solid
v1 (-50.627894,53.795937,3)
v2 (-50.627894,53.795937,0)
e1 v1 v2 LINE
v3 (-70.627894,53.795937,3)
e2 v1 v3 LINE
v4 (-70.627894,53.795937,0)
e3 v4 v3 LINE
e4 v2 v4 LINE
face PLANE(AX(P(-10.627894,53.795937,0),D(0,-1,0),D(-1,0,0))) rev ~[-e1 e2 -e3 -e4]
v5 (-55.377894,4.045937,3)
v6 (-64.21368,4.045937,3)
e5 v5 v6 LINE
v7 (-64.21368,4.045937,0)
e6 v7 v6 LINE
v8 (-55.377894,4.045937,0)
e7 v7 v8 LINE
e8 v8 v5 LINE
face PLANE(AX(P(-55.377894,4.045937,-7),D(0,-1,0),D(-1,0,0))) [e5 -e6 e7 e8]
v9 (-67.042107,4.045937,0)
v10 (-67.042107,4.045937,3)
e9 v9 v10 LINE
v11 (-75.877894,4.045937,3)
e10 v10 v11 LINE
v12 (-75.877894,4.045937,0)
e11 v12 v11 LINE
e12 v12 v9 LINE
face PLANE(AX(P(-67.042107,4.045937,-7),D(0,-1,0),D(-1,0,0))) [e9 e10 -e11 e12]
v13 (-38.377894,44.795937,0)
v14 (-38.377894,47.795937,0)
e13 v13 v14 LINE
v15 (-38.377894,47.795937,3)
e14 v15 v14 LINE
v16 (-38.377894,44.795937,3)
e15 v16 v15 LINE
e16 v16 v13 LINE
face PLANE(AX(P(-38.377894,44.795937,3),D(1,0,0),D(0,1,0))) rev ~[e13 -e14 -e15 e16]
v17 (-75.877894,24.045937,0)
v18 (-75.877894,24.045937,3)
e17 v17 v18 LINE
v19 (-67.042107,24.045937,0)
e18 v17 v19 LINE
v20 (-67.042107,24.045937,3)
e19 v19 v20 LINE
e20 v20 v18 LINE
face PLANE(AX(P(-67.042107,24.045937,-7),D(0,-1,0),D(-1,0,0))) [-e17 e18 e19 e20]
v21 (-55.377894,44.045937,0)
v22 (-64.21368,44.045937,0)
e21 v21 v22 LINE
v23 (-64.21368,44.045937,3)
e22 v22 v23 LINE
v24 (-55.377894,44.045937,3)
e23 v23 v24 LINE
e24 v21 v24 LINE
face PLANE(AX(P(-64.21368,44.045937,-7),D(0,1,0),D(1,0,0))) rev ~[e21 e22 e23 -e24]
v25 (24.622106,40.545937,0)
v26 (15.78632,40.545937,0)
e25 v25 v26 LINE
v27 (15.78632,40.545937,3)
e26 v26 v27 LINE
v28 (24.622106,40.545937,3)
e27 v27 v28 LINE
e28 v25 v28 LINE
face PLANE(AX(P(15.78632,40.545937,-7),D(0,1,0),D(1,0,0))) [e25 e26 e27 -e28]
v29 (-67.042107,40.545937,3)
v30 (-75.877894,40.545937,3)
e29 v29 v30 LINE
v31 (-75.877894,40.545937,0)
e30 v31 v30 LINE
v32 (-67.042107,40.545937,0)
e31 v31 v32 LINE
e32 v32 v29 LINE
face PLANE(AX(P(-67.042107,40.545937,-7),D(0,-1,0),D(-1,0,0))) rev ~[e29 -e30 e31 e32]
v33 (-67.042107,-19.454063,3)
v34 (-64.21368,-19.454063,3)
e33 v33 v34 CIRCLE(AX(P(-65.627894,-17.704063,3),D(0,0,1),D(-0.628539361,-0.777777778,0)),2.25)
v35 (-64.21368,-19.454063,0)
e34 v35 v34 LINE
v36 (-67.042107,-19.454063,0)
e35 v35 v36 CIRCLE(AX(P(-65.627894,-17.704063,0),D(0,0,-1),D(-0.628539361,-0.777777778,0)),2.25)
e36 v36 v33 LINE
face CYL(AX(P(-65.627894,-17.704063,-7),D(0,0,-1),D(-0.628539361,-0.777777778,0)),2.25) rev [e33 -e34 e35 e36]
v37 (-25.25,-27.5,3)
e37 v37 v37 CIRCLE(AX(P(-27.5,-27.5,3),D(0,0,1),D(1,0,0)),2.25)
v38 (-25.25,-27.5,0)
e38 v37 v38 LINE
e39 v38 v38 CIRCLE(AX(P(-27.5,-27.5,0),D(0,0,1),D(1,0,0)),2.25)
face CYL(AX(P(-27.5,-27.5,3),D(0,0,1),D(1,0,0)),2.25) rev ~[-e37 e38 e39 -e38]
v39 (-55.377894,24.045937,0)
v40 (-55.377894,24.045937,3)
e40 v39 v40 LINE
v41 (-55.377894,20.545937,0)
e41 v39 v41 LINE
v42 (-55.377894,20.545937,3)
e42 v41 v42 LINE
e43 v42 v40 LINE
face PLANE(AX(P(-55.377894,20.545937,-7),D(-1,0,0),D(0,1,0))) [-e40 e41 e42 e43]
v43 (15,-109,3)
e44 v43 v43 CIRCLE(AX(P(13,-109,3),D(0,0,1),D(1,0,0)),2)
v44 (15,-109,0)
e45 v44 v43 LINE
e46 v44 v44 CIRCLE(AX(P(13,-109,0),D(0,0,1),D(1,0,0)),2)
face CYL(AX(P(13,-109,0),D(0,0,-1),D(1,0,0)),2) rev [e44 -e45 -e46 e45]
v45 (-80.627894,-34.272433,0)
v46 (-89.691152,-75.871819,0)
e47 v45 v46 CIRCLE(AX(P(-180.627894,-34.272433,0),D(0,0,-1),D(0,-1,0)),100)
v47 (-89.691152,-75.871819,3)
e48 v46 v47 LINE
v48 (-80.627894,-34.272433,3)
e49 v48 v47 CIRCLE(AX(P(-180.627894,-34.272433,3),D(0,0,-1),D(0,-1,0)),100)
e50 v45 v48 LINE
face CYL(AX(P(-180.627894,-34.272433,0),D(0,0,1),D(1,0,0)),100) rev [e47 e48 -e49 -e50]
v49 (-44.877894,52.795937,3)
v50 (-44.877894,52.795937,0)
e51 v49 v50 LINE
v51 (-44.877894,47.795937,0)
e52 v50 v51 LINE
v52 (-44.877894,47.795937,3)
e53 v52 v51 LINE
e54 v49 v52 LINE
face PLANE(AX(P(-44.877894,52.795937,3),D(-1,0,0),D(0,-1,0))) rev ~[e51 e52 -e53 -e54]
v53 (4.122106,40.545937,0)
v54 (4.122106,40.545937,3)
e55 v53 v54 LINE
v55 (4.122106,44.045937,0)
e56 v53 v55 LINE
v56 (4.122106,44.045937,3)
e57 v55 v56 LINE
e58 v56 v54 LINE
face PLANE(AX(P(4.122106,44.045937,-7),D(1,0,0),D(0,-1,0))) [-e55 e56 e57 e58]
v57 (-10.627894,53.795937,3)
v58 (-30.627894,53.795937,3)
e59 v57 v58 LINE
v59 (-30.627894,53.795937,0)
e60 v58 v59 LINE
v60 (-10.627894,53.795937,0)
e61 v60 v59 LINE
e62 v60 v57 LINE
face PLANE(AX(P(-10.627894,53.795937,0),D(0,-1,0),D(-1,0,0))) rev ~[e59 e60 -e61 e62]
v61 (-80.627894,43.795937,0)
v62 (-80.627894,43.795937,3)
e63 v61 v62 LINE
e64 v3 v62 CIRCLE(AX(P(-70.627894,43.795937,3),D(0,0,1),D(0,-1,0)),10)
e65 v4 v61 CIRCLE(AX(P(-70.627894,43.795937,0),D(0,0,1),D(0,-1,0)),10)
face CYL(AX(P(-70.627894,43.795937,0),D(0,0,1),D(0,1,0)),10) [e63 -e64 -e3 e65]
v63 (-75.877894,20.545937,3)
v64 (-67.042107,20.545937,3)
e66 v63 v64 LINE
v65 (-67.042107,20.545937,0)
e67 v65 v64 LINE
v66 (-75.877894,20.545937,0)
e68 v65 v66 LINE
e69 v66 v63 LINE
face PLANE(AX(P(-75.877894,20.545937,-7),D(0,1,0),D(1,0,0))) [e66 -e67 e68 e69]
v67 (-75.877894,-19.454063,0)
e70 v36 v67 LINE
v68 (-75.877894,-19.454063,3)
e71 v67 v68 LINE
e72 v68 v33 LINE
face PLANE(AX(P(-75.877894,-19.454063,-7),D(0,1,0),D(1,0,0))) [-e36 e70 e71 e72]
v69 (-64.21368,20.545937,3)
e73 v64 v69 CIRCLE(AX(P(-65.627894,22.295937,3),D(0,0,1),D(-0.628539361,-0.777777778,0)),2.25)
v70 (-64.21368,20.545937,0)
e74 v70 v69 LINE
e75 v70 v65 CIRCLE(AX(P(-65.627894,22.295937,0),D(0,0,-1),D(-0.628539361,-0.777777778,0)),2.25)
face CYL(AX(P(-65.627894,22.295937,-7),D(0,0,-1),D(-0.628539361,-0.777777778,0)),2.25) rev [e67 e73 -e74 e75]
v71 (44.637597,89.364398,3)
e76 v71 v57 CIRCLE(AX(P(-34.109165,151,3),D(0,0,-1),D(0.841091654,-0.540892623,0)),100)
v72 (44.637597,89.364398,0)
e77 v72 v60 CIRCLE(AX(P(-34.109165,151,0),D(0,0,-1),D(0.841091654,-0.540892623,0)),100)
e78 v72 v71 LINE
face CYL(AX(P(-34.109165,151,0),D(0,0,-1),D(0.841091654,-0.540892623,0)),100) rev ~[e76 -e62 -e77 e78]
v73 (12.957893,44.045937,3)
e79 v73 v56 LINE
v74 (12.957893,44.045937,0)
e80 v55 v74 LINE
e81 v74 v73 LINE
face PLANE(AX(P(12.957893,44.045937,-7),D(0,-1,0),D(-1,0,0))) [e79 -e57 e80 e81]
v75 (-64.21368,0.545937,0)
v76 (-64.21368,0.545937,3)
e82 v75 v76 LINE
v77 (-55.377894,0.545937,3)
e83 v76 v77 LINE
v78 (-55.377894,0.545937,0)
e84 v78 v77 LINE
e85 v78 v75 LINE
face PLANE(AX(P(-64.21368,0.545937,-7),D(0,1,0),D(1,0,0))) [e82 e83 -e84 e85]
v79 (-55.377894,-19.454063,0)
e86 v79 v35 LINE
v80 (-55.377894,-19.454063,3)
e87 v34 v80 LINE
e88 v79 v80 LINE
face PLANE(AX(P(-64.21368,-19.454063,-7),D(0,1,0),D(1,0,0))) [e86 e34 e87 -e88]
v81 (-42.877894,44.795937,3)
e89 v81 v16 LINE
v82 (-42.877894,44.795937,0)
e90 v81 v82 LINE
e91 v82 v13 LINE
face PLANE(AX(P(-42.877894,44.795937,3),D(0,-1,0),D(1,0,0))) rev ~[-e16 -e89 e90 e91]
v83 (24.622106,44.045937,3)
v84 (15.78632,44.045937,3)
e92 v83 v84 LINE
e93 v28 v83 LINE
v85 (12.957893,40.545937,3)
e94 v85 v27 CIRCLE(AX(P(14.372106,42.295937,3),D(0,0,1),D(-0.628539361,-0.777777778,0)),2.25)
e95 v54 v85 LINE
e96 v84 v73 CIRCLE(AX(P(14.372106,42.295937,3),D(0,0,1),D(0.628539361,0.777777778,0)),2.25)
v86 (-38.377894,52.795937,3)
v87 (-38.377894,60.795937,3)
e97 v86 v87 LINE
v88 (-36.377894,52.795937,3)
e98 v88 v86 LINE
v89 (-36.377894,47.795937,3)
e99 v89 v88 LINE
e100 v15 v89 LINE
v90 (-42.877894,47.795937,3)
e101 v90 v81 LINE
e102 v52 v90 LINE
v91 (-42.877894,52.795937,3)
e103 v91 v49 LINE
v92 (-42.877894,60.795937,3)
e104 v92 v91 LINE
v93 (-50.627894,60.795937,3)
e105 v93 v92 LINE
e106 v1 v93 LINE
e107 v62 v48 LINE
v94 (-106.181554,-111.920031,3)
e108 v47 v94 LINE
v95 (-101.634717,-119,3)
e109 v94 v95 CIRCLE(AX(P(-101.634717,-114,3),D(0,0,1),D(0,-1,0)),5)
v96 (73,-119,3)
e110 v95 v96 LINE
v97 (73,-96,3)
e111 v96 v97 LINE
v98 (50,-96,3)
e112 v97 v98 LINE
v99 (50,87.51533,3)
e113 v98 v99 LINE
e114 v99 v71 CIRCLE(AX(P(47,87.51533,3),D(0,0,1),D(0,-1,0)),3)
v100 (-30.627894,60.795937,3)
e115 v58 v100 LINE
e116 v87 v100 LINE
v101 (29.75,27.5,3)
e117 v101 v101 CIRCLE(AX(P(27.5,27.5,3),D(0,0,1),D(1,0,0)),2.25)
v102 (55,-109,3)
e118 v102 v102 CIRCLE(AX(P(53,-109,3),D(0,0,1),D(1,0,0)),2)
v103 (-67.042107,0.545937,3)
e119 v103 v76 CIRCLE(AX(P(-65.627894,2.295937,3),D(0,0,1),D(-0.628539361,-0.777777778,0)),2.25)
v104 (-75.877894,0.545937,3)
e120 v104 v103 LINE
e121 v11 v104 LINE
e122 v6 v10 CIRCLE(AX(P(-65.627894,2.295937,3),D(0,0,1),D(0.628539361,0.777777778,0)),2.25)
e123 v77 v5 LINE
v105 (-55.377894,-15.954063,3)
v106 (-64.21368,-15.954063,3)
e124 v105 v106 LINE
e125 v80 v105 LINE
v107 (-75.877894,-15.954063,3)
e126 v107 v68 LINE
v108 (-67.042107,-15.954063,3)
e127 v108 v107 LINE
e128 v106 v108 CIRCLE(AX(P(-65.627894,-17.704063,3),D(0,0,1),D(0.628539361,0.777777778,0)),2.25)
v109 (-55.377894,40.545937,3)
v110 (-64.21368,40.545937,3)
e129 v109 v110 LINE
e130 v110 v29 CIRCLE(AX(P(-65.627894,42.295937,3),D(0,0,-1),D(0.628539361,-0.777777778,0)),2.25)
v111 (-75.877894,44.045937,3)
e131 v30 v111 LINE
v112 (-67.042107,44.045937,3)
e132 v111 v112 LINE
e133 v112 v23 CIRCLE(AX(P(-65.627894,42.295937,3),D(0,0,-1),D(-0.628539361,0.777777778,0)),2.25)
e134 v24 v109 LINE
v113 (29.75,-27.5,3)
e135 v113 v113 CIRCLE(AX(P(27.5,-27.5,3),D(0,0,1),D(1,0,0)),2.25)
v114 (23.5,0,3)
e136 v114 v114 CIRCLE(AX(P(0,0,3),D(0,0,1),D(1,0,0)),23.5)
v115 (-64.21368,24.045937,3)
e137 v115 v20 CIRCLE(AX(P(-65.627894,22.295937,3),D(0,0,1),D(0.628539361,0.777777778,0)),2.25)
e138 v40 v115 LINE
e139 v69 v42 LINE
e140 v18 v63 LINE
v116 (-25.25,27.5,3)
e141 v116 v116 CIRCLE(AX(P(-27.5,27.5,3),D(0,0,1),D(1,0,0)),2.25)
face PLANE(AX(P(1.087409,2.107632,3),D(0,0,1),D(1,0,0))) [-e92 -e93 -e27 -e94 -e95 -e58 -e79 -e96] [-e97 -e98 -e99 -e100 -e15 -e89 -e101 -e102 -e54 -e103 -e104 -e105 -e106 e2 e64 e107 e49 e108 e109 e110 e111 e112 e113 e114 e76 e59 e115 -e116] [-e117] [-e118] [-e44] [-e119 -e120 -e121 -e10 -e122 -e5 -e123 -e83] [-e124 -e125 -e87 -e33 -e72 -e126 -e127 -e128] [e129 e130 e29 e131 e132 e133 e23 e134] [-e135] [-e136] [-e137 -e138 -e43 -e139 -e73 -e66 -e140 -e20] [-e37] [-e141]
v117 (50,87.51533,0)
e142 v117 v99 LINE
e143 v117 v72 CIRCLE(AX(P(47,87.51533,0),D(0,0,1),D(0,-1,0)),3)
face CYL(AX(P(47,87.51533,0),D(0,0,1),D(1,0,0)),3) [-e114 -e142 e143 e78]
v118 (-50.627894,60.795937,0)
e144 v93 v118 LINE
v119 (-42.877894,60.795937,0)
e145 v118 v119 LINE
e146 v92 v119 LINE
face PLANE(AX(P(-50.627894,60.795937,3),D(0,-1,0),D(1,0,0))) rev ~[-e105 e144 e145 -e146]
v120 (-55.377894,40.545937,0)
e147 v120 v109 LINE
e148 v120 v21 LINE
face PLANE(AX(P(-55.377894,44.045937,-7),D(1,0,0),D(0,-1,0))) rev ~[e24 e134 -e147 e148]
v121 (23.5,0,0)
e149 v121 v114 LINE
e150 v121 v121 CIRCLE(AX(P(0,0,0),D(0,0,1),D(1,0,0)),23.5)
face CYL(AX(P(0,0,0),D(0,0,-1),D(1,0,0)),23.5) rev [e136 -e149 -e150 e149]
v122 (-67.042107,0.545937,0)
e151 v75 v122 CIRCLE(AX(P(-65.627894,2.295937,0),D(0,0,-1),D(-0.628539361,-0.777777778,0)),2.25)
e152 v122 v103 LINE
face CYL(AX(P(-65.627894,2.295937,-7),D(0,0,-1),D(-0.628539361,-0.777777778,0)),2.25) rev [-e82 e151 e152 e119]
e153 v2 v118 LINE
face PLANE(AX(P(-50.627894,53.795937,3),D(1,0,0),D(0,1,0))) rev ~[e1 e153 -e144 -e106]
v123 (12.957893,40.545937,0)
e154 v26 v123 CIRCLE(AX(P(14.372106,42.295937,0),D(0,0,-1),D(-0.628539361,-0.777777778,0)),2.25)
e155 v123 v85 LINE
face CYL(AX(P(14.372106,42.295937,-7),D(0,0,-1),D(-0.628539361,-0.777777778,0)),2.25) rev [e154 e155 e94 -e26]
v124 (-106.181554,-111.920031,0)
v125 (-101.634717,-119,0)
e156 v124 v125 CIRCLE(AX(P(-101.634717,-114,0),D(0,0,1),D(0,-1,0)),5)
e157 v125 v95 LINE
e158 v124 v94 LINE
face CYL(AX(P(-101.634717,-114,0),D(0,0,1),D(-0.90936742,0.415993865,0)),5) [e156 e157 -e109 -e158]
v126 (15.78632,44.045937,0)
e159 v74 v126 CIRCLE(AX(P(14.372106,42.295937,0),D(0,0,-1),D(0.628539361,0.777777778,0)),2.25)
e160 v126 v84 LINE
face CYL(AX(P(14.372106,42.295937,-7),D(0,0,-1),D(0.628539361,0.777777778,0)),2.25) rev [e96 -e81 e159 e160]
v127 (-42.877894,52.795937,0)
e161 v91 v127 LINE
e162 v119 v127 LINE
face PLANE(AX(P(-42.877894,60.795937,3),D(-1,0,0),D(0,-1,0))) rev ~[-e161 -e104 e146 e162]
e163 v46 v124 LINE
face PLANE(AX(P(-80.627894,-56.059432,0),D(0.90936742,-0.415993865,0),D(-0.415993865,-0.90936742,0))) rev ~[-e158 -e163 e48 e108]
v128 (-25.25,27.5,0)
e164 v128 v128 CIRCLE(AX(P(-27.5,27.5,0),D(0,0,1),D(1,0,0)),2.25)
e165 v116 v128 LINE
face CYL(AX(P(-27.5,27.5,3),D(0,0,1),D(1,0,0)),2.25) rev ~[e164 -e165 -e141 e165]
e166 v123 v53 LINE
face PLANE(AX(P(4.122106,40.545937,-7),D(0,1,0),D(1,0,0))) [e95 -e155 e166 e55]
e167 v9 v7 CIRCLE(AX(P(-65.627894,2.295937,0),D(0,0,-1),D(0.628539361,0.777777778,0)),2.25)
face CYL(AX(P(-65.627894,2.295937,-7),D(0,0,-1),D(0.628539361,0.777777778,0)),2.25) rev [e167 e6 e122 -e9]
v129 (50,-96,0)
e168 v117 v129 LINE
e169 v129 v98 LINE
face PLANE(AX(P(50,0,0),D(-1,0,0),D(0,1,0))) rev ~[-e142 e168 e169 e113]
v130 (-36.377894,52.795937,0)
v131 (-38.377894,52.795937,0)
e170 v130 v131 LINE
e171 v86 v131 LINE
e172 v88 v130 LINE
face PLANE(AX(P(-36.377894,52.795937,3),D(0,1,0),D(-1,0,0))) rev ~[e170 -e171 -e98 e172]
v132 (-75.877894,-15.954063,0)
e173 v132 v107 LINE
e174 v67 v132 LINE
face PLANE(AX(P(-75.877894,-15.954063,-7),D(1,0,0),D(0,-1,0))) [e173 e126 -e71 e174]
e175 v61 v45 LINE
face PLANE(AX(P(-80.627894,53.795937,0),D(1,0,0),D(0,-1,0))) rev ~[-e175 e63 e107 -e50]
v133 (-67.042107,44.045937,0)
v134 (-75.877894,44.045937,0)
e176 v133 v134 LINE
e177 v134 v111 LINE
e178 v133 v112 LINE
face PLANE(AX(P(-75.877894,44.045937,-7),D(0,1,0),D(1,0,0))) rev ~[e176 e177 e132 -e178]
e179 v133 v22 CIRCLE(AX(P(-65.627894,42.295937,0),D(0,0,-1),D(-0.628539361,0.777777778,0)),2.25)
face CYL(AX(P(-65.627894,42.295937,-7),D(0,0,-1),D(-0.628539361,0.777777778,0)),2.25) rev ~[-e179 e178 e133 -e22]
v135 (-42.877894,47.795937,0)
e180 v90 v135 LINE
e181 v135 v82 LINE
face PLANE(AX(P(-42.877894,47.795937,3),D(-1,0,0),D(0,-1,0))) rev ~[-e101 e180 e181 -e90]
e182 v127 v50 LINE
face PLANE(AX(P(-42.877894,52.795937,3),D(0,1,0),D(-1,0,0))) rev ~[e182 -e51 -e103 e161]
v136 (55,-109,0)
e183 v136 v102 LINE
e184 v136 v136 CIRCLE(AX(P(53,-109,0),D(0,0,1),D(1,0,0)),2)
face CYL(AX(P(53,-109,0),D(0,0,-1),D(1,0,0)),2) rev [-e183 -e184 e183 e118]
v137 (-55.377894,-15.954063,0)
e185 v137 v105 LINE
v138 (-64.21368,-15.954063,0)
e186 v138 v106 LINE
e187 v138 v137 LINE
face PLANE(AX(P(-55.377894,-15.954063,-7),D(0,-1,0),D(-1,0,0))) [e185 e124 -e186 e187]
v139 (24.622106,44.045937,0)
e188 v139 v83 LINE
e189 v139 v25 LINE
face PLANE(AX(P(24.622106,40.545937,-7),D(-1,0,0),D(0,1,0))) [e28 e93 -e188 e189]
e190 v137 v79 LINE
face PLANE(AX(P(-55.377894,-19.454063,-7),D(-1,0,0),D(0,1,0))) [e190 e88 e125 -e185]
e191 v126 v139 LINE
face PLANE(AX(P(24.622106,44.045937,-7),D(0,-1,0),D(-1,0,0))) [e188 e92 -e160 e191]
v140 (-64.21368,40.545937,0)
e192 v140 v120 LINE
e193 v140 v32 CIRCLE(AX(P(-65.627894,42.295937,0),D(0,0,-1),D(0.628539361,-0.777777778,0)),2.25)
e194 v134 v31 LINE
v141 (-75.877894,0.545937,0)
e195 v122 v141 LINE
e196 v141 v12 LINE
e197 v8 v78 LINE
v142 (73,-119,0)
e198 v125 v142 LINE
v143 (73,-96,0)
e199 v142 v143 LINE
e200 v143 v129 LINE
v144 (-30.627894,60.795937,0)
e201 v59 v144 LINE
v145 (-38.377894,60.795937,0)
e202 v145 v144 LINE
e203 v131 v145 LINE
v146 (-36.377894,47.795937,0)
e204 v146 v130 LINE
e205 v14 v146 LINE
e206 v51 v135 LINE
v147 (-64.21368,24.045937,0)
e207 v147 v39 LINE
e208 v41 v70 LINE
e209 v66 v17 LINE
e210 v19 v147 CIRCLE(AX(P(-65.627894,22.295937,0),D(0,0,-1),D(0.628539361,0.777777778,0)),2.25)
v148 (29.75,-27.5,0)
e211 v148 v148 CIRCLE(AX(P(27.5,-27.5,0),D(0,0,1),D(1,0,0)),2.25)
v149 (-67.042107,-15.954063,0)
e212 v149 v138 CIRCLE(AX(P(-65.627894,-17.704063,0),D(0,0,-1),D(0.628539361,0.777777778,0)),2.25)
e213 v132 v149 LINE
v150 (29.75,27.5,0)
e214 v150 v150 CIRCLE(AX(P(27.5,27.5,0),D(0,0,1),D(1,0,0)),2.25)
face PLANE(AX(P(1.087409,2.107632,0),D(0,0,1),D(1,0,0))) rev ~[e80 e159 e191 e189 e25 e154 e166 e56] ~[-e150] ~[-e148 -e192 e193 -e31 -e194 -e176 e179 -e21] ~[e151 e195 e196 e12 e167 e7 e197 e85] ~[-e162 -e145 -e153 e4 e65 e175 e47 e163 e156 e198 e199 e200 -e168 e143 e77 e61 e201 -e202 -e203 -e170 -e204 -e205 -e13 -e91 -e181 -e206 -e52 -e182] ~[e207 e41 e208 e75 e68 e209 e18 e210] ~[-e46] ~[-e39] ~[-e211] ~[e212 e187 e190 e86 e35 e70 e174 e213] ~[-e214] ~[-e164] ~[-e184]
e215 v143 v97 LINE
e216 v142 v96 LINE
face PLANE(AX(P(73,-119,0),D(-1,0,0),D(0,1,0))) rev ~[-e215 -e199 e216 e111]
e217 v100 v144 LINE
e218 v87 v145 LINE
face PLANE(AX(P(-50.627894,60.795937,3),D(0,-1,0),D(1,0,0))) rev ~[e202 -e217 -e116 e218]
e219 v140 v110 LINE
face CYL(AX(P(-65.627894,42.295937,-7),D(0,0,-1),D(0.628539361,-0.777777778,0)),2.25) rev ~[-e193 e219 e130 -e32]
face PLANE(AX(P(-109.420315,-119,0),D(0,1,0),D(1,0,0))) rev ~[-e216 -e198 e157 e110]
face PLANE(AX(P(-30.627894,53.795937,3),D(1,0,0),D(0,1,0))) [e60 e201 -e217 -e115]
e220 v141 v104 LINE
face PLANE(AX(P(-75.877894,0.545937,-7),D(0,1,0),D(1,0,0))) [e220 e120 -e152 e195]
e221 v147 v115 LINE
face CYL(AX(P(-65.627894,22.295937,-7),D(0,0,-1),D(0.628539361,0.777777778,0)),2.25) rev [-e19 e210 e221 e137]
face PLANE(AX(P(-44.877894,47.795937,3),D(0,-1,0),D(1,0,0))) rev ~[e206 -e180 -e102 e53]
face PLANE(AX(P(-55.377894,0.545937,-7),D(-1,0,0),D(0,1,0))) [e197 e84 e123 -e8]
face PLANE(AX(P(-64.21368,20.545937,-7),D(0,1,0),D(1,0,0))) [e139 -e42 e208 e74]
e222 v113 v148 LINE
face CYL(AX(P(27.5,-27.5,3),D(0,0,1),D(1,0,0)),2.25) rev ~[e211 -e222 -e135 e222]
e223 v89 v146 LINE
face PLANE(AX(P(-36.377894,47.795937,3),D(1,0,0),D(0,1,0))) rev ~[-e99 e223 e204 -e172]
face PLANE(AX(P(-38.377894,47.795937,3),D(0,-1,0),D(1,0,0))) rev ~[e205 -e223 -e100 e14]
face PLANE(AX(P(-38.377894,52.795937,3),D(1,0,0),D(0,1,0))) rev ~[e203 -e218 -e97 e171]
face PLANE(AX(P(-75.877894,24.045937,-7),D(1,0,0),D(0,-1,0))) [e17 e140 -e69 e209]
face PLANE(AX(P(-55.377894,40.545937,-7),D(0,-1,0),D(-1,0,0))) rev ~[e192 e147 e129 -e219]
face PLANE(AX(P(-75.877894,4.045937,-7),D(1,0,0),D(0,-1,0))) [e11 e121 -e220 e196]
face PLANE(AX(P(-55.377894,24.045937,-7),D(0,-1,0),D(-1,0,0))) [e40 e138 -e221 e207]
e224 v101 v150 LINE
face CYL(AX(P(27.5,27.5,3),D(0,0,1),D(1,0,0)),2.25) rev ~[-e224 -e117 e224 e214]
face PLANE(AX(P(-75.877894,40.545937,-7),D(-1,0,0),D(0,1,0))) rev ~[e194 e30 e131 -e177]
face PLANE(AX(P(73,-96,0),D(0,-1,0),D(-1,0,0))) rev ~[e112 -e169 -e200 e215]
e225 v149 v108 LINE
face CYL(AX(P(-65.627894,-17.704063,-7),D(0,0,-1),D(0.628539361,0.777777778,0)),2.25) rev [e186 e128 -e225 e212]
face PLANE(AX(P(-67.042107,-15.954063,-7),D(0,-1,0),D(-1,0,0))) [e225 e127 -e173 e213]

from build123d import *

# Parameters (mm, degrees)
SKETCH_1_R          = 2
SKETCH_1_R_2        = 23.5
EXTRUDE_1_DEPTH     = 3
SKETCH_2_R          = 2.25
CUT_EXTRUDE_1_DEPTH = 162.687369417
FILLET_1_R          = 10
FILLET_2_R          = 100
FILLET_3_R          = 5
SKETCH_3_W          = 20
SKETCH_3_H          = 7
EXTRUDE_2_DEPTH     = 3
CUT_EXTRUDE_2_DEPTH = 10
FILLET_4_R          = 3
CUT_EXTRUDE_3_DEPTH = 3
CUT_EXTRUDE_START   = -10
CUT_EXTRUDE_4_DEPTH = 10


with BuildPart() as part:
    # 草图1 → 凸台-拉伸1 (new body)
    # profile 1 of 3: a face of its own
    with BuildSketch(Plane.XY):
        with BuildLine():
            Line((-80.627893842, 53.795936885), (-80.627893842, -56.059432026))
            Line((-80.627893842, -56.059432026), (-109.420315431, -119))
            Line((-109.420315431, -119), (50, -119))
            Line((50, -119), (73, -119))
            Line((73, -119), (73, -96))
            Line((73, -96), (50, -96))
            Line((50, -96), (50, 0))
            ThreePointArc((50, 0), (-22.925467429, -44.434479216), (-28.976917727, 40.747248239))
            Line((-28.976917727, 40.747248239), (-10.627893842, 53.795936885))
            Line((-10.627893842, 53.795936885), (-80.627893842, 53.795936885))
        make_face()
        with BuildLine():
            Line((-66.950769498, -19.204063115), (-75.627893842, -19.204063115))
            Line((-75.627893842, -19.204063115), (-75.627893842, -16.204063115))
            Line((-75.627893842, -16.204063115), (-66.950769498, -16.204063115))
            ThreePointArc((-66.950769498, -16.204063115), (-65.627893842, -15.704063115), (-64.305018187, -16.204063115))
            Line((-64.305018187, -16.204063115), (-55.627893842, -16.204063115))
            Line((-55.627893842, -16.204063115), (-55.627893842, -19.204063115))
            Line((-55.627893842, -19.204063115), (-64.305018187, -19.204063115))
            ThreePointArc((-64.305018187, -19.204063115), (-65.627893842, -19.704063115), (-66.950769498, -19.204063115))
        make_face(mode=Mode.SUBTRACT)
        with Locations((13, -109)):
            Circle(SKETCH_1_R, mode=Mode.SUBTRACT)
        with Locations((53, -109.000000002)):
            Circle(SKETCH_1_R, mode=Mode.SUBTRACT)
        with BuildLine():
            Line((-66.950769498, 0.795936885), (-75.627893842, 0.795936885))
            Line((-75.627893842, 0.795936885), (-75.627893842, 3.795936885))
            Line((-75.627893842, 3.795936885), (-66.950769498, 3.795936885))
            ThreePointArc((-66.950769498, 3.795936885), (-65.627893842, 4.295936885), (-64.305018187, 3.795936885))
            Line((-64.305018187, 3.795936885), (-55.627893842, 3.795936885))
            Line((-55.627893842, 3.795936885), (-55.627893842, 0.795936885))
            Line((-55.627893842, 0.795936885), (-64.305018187, 0.795936885))
            ThreePointArc((-64.305018187, 0.795936885), (-65.627893842, 0.295936885), (-66.950769498, 0.795936885))
        make_face(mode=Mode.SUBTRACT)
        with BuildLine():
            Line((-66.950769498, 20.795936885), (-75.627893842, 20.795936885))
            Line((-75.627893842, 20.795936885), (-75.627893842, 23.795936885))
            Line((-75.627893842, 23.795936885), (-66.950769498, 23.795936885))
            ThreePointArc((-66.950769498, 23.795936885), (-65.627893842, 24.295936885), (-64.305018187, 23.795936885))
            Line((-64.305018187, 23.795936885), (-55.627893842, 23.795936885))
            Line((-55.627893842, 23.795936885), (-55.627893842, 20.795936885))
            Line((-55.627893842, 20.795936885), (-64.305018187, 20.795936885))
            ThreePointArc((-64.305018187, 20.795936885), (-65.627893842, 20.295936885), (-66.950769498, 20.795936885))
        make_face(mode=Mode.SUBTRACT)
        with BuildLine():
            Line((-55.627893842, 40.795936885), (-64.305018187, 40.795936885))
            ThreePointArc((-64.305018187, 40.795936885), (-65.627893842, 40.295936885), (-66.950769498, 40.795936885))
            Line((-66.950769498, 40.795936885), (-75.627893842, 40.795936885))
            Line((-75.627893842, 40.795936885), (-75.627893842, 43.795936885))
            Line((-75.627893842, 43.795936885), (-66.950769498, 43.795936885))
            ThreePointArc((-66.950769498, 43.795936885), (-65.627893842, 44.295936885), (-64.305018187, 43.795936885))
            Line((-64.305018187, 43.795936885), (-55.627893842, 43.795936885))
            Line((-55.627893842, 43.795936885), (-55.627893842, 40.795936885))
        make_face(mode=Mode.SUBTRACT)
    # profile 2 of 3: a face of its own
    with BuildSketch(Plane.XY):
        with BuildLine():
            ThreePointArc((50, 96.910737705), (23.844670052, 69.505503521), (-10.627893842, 53.795936885))
            Line((-10.627893842, 53.795936885), (-28.976917727, 40.747248239))
            ThreePointArc((-28.976917727, 40.747248239), (22.925467429, 44.434479216), (50, 0))
            Line((50, 0), (50, 96.910737705))
        make_face()
    # profile 3 of 3: a face of its own
    with BuildSketch(Plane.XY):
        with BuildLine():
            ThreePointArc((50, 0), (22.925467429, 44.434479216), (-28.976917727, 40.747248239))
            ThreePointArc((-28.976917727, 40.747248239), (-22.925467429, -44.434479216), (50, 0))
        make_face()
        Circle(SKETCH_1_R_2, mode=Mode.SUBTRACT)
    extrude(amount=EXTRUDE_1_DEPTH)

    # 草图2 → 切除-拉伸1 (cut, through all)
    with BuildSketch(Plane.XY.offset(3)):
        with Locations((-27.5, 27.5)):
            Circle(SKETCH_2_R)
        with Locations((27.5, 27.5)):
            Circle(SKETCH_2_R)
        with Locations((27.5, -27.5)):
            Circle(SKETCH_2_R)
        with Locations((-27.5, -27.5)):
            Circle(SKETCH_2_R)
    extrude(amount=-CUT_EXTRUDE_1_DEPTH, mode=Mode.SUBTRACT)

    # 圆角1
    fillet_1_edges = [part.edges().sort_by_distance(p)[0] for p in [
        (-80.627893842, 53.795936885, 1.5),
    ]]
    fillet(fillet_1_edges, radius=FILLET_1_R)

    # 圆角2
    fillet_2_edges = [part.edges().sort_by_distance(p)[0] for p in [
        (-80.627893842, -56.059432026, 1.5),
    ]]
    fillet(fillet_2_edges, radius=FILLET_2_R)

    # 圆角3
    fillet_3_edges = [part.edges().sort_by_distance(p)[0] for p in [
        (-109.420315431, -119, 1.5),
    ]]
    fillet(fillet_3_edges, radius=FILLET_3_R)

    # 草图3 → 凸台-拉伸2 (add)
    with BuildSketch(Plane.XY.offset(3)):
        with Locations((-40.627893842, 57.295936885)):
            Rectangle(SKETCH_3_W, SKETCH_3_H)
    extrude(amount=-EXTRUDE_2_DEPTH)

    # 草图4 → 切除-拉伸2 (cut)
    with BuildSketch(Plane.XY.offset(3)):
        with BuildLine():
            Line((15.694981813, 43.795936885), (13.049230502, 43.795936885))
            ThreePointArc((13.049230502, 43.795936885), (12.372106158, 42.295936885), (13.049230502, 40.795936885))
            Line((13.049230502, 40.795936885), (15.694981813, 40.795936885))
            ThreePointArc((15.694981813, 40.795936885), (16.194981813, 41.47306123), (16.372106158, 42.295936885))
            ThreePointArc((16.372106158, 42.295936885), (16.194981813, 43.118812541), (15.694981813, 43.795936885))
        make_face()
        with BuildLine():
            ThreePointArc((15.694981813, 43.795936885), (14.372106158, 44.295936885), (13.049230502, 43.795936885))
            Line((13.049230502, 43.795936885), (15.694981813, 43.795936885))
        make_face()
        with BuildLine():
            Line((15.694981813, 40.795936885), (13.049230502, 40.795936885))
            ThreePointArc((13.049230502, 40.795936885), (14.372106158, 40.295936885), (15.694981813, 40.795936885))
        make_face()
        with BuildLine():
            Line((24.372106158, 43.795936885), (15.694981813, 43.795936885))
            ThreePointArc((15.694981813, 43.795936885), (16.194981813, 43.118812541), (16.372106158, 42.295936885))
            ThreePointArc((16.372106158, 42.295936885), (16.194981813, 41.47306123), (15.694981813, 40.795936885))
            Line((15.694981813, 40.795936885), (24.372106158, 40.795936885))
            Line((24.372106158, 40.795936885), (24.372106158, 43.795936885))
        make_face()
        with BuildLine():
            Line((13.049230502, 43.795936885), (4.372106158, 43.795936885))
            Line((4.372106158, 43.795936885), (4.372106158, 40.795936885))
            Line((4.372106158, 40.795936885), (13.049230502, 40.795936885))
            ThreePointArc((13.049230502, 40.795936885), (12.372106158, 42.295936885), (13.049230502, 43.795936885))
        make_face()
    extrude(amount=-CUT_EXTRUDE_2_DEPTH, mode=Mode.SUBTRACT)

    # 圆角4
    fillet_4_edges = [part.edges().sort_by_distance(p)[0] for p in [
        (50, 96.910737705, 1.5),
    ]]
    fillet(fillet_4_edges, radius=FILLET_4_R)

    # 草图5 → 切除-拉伸3 (cut)
    with BuildSketch(Plane.XY.offset(3)):
        Polygon((-42.877893842, 60.795936885), (-42.877893842, 52.795936885), (-44.877893842, 52.795936885), (-44.877893842, 47.795936885), (-42.877893842, 47.795936885), (-42.877893842, 44.795936885), (-38.377893842, 44.795936885), (-38.377893842, 47.795936885), (-36.377893842, 47.795936885), (-36.377893842, 52.795936885), (-38.377893842, 52.795936885), (-38.377893842, 60.795936885), align=None)
    extrude(amount=-CUT_EXTRUDE_3_DEPTH, mode=Mode.SUBTRACT)

    # 草图7 → 切除-拉伸4 (cut)
    # profile 1 of 5: a face of its own
    with BuildSketch(Plane.XY.offset(3).offset(CUT_EXTRUDE_START)):
        with BuildLine():
            Line((-75.877893842, 44.045936885), (-67.042107404, 44.045936885))
            ThreePointArc((-67.042107404, 44.045936885), (-65.627893842, 44.545936885), (-64.21368028, 44.045936885))
            Line((-64.21368028, 44.045936885), (-55.377893842, 44.045936885))
            Line((-55.377893842, 44.045936885), (-55.377893842, 40.545936885))
            Line((-55.377893842, 40.545936885), (-64.21368028, 40.545936885))
            ThreePointArc((-64.21368028, 40.545936885), (-65.627893842, 40.045936885), (-67.042107404, 40.545936885))
            Line((-67.042107404, 40.545936885), (-75.877893842, 40.545936885))
            Line((-75.877893842, 40.545936885), (-75.877893842, 44.045936885))
        make_face()
        with BuildLine():
            Line((-64.305018187, 43.795936885), (-55.627893842, 43.795936885))
            Line((-55.627893842, 43.795936885), (-55.627893842, 40.795936885))
            Line((-55.627893842, 40.795936885), (-64.305018187, 40.795936885))
            ThreePointArc((-64.305018187, 40.795936885), (-65.627893842, 40.295936885), (-66.950769498, 40.795936885))
            Line((-66.950769498, 40.795936885), (-75.627893842, 40.795936885))
            Line((-75.627893842, 40.795936885), (-75.627893842, 43.795936885))
            Line((-75.627893842, 43.795936885), (-66.950769498, 43.795936885))
            ThreePointArc((-66.950769498, 43.795936885), (-65.627893842, 44.295936885), (-64.305018187, 43.795936885))
        make_face(mode=Mode.SUBTRACT)
    # profile 2 of 5: a face of its own
    with BuildSketch(Plane.XY.offset(3).offset(CUT_EXTRUDE_START)):
        with BuildLine():
            Line((-75.877893842, 24.045936885), (-75.877893842, 20.545936885))
            Line((-75.877893842, 20.545936885), (-67.042107404, 20.545936885))
            ThreePointArc((-67.042107404, 20.545936885), (-65.627893842, 20.045936885), (-64.21368028, 20.545936885))
            Line((-64.21368028, 20.545936885), (-55.377893842, 20.545936885))
            Line((-55.377893842, 20.545936885), (-55.377893842, 24.045936885))
            Line((-55.377893842, 24.045936885), (-64.21368028, 24.045936885))
            ThreePointArc((-64.21368028, 24.045936885), (-65.627893842, 24.545936885), (-67.042107404, 24.045936885))
            Line((-67.042107404, 24.045936885), (-75.877893842, 24.045936885))
        make_face()
        with BuildLine():
            Line((-75.627893842, 23.795936885), (-75.627893842, 20.795936885))
            Line((-75.627893842, 20.795936885), (-66.950769498, 20.795936885))
            ThreePointArc((-66.950769498, 20.795936885), (-65.627893842, 20.295936885), (-64.305018187, 20.795936885))
            Line((-64.305018187, 20.795936885), (-55.627893842, 20.795936885))
            Line((-55.627893842, 20.795936885), (-55.627893842, 23.795936885))
            Line((-55.627893842, 23.795936885), (-64.305018187, 23.795936885))
            ThreePointArc((-64.305018187, 23.795936885), (-65.627893842, 24.295936885), (-66.950769498, 23.795936885))
            Line((-66.950769498, 23.795936885), (-75.627893842, 23.795936885))
        make_face(mode=Mode.SUBTRACT)
    # profile 3 of 5: a face of its own
    with BuildSketch(Plane.XY.offset(3).offset(CUT_EXTRUDE_START)):
        with BuildLine():
            Line((-75.877893842, 4.045936885), (-75.877893842, 0.545936885))
            Line((-75.877893842, 0.545936885), (-67.042107404, 0.545936885))
            ThreePointArc((-67.042107404, 0.545936885), (-65.627893842, 0.045936885), (-64.21368028, 0.545936885))
            Line((-64.21368028, 0.545936885), (-55.377893842, 0.545936885))
            Line((-55.377893842, 0.545936885), (-55.377893842, 4.045936885))
            Line((-55.377893842, 4.045936885), (-64.21368028, 4.045936885))
            ThreePointArc((-64.21368028, 4.045936885), (-65.627893842, 4.545936885), (-67.042107404, 4.045936885))
            Line((-67.042107404, 4.045936885), (-75.877893842, 4.045936885))
        make_face()
        with BuildLine():
            Line((-75.627893842, 3.795936885), (-75.627893842, 0.795936885))
            Line((-75.627893842, 0.795936885), (-66.950769498, 0.795936885))
            ThreePointArc((-66.950769498, 0.795936885), (-65.627893842, 0.295936885), (-64.305018187, 0.795936885))
            Line((-64.305018187, 0.795936885), (-55.627893842, 0.795936885))
            Line((-55.627893842, 0.795936885), (-55.627893842, 3.795936885))
            Line((-55.627893842, 3.795936885), (-64.305018187, 3.795936885))
            ThreePointArc((-64.305018187, 3.795936885), (-65.627893842, 4.295936885), (-66.950769498, 3.795936885))
            Line((-66.950769498, 3.795936885), (-75.627893842, 3.795936885))
        make_face(mode=Mode.SUBTRACT)
    # profile 4 of 5: a face of its own
    with BuildSketch(Plane.XY.offset(3).offset(CUT_EXTRUDE_START)):
        with BuildLine():
            Line((-75.877893842, -19.454063115), (-67.042107404, -19.454063115))
            ThreePointArc((-67.042107404, -19.454063115), (-65.627893842, -19.954063115), (-64.21368028, -19.454063115))
            Line((-64.21368028, -19.454063115), (-55.377893842, -19.454063115))
            Line((-55.377893842, -19.454063115), (-55.377893842, -15.954063115))
            Line((-55.377893842, -15.954063115), (-64.21368028, -15.954063115))
            ThreePointArc((-64.21368028, -15.954063115), (-65.627893842, -15.454063115), (-67.042107404, -15.954063115))
            Line((-67.042107404, -15.954063115), (-75.877893842, -15.954063115))
            Line((-75.877893842, -15.954063115), (-75.877893842, -19.454063115))
        make_face()
        with BuildLine():
            Line((-75.627893842, -19.204063115), (-66.950769498, -19.204063115))
            ThreePointArc((-66.950769498, -19.204063115), (-65.627893842, -19.704063115), (-64.305018187, -19.204063115))
            Line((-64.305018187, -19.204063115), (-55.627893842, -19.204063115))
            Line((-55.627893842, -19.204063115), (-55.627893842, -16.204063115))
            Line((-55.627893842, -16.204063115), (-64.305018187, -16.204063115))
            ThreePointArc((-64.305018187, -16.204063115), (-65.627893842, -15.704063115), (-66.950769498, -16.204063115))
            Line((-66.950769498, -16.204063115), (-75.627893842, -16.204063115))
            Line((-75.627893842, -16.204063115), (-75.627893842, -19.204063115))
        make_face(mode=Mode.SUBTRACT)
    # profile 5 of 5: a face of its own
    with BuildSketch(Plane.XY.offset(3).offset(CUT_EXTRUDE_START)):
        with BuildLine():
            Line((4.122106158, 44.045936885), (4.122106158, 40.545936885))
            Line((4.122106158, 40.545936885), (12.957892596, 40.545936885))
            ThreePointArc((12.957892596, 40.545936885), (14.372106158, 40.045936885), (15.78631972, 40.545936885))
            Line((15.78631972, 40.545936885), (24.622106158, 40.545936885))
            Line((24.622106158, 40.545936885), (24.622106158, 44.045936885))
            Line((24.622106158, 44.045936885), (15.78631972, 44.045936885))
            ThreePointArc((15.78631972, 44.045936885), (14.372106158, 44.545936885), (12.957892596, 44.045936885))
            Line((12.957892596, 44.045936885), (4.122106158, 44.045936885))
        make_face()
        with BuildLine():
            Line((4.372106158, 43.795936885), (4.372106158, 40.795936885))
            Line((4.372106158, 40.795936885), (13.049230502, 40.795936885))
            ThreePointArc((13.049230502, 40.795936885), (14.372106158, 40.295936885), (15.694981813, 40.795936885))
            Line((15.694981813, 40.795936885), (24.372106158, 40.795936885))
            Line((24.372106158, 40.795936885), (24.372106158, 43.795936885))
            Line((24.372106158, 43.795936885), (15.694981813, 43.795936885))
            ThreePointArc((15.694981813, 43.795936885), (14.372106158, 44.295936885), (13.049230502, 43.795936885))
            Line((13.049230502, 43.795936885), (4.372106158, 43.795936885))
        make_face(mode=Mode.SUBTRACT)
    extrude(amount=CUT_EXTRUDE_4_DEPTH, mode=Mode.SUBTRACT)


solid = part.part
